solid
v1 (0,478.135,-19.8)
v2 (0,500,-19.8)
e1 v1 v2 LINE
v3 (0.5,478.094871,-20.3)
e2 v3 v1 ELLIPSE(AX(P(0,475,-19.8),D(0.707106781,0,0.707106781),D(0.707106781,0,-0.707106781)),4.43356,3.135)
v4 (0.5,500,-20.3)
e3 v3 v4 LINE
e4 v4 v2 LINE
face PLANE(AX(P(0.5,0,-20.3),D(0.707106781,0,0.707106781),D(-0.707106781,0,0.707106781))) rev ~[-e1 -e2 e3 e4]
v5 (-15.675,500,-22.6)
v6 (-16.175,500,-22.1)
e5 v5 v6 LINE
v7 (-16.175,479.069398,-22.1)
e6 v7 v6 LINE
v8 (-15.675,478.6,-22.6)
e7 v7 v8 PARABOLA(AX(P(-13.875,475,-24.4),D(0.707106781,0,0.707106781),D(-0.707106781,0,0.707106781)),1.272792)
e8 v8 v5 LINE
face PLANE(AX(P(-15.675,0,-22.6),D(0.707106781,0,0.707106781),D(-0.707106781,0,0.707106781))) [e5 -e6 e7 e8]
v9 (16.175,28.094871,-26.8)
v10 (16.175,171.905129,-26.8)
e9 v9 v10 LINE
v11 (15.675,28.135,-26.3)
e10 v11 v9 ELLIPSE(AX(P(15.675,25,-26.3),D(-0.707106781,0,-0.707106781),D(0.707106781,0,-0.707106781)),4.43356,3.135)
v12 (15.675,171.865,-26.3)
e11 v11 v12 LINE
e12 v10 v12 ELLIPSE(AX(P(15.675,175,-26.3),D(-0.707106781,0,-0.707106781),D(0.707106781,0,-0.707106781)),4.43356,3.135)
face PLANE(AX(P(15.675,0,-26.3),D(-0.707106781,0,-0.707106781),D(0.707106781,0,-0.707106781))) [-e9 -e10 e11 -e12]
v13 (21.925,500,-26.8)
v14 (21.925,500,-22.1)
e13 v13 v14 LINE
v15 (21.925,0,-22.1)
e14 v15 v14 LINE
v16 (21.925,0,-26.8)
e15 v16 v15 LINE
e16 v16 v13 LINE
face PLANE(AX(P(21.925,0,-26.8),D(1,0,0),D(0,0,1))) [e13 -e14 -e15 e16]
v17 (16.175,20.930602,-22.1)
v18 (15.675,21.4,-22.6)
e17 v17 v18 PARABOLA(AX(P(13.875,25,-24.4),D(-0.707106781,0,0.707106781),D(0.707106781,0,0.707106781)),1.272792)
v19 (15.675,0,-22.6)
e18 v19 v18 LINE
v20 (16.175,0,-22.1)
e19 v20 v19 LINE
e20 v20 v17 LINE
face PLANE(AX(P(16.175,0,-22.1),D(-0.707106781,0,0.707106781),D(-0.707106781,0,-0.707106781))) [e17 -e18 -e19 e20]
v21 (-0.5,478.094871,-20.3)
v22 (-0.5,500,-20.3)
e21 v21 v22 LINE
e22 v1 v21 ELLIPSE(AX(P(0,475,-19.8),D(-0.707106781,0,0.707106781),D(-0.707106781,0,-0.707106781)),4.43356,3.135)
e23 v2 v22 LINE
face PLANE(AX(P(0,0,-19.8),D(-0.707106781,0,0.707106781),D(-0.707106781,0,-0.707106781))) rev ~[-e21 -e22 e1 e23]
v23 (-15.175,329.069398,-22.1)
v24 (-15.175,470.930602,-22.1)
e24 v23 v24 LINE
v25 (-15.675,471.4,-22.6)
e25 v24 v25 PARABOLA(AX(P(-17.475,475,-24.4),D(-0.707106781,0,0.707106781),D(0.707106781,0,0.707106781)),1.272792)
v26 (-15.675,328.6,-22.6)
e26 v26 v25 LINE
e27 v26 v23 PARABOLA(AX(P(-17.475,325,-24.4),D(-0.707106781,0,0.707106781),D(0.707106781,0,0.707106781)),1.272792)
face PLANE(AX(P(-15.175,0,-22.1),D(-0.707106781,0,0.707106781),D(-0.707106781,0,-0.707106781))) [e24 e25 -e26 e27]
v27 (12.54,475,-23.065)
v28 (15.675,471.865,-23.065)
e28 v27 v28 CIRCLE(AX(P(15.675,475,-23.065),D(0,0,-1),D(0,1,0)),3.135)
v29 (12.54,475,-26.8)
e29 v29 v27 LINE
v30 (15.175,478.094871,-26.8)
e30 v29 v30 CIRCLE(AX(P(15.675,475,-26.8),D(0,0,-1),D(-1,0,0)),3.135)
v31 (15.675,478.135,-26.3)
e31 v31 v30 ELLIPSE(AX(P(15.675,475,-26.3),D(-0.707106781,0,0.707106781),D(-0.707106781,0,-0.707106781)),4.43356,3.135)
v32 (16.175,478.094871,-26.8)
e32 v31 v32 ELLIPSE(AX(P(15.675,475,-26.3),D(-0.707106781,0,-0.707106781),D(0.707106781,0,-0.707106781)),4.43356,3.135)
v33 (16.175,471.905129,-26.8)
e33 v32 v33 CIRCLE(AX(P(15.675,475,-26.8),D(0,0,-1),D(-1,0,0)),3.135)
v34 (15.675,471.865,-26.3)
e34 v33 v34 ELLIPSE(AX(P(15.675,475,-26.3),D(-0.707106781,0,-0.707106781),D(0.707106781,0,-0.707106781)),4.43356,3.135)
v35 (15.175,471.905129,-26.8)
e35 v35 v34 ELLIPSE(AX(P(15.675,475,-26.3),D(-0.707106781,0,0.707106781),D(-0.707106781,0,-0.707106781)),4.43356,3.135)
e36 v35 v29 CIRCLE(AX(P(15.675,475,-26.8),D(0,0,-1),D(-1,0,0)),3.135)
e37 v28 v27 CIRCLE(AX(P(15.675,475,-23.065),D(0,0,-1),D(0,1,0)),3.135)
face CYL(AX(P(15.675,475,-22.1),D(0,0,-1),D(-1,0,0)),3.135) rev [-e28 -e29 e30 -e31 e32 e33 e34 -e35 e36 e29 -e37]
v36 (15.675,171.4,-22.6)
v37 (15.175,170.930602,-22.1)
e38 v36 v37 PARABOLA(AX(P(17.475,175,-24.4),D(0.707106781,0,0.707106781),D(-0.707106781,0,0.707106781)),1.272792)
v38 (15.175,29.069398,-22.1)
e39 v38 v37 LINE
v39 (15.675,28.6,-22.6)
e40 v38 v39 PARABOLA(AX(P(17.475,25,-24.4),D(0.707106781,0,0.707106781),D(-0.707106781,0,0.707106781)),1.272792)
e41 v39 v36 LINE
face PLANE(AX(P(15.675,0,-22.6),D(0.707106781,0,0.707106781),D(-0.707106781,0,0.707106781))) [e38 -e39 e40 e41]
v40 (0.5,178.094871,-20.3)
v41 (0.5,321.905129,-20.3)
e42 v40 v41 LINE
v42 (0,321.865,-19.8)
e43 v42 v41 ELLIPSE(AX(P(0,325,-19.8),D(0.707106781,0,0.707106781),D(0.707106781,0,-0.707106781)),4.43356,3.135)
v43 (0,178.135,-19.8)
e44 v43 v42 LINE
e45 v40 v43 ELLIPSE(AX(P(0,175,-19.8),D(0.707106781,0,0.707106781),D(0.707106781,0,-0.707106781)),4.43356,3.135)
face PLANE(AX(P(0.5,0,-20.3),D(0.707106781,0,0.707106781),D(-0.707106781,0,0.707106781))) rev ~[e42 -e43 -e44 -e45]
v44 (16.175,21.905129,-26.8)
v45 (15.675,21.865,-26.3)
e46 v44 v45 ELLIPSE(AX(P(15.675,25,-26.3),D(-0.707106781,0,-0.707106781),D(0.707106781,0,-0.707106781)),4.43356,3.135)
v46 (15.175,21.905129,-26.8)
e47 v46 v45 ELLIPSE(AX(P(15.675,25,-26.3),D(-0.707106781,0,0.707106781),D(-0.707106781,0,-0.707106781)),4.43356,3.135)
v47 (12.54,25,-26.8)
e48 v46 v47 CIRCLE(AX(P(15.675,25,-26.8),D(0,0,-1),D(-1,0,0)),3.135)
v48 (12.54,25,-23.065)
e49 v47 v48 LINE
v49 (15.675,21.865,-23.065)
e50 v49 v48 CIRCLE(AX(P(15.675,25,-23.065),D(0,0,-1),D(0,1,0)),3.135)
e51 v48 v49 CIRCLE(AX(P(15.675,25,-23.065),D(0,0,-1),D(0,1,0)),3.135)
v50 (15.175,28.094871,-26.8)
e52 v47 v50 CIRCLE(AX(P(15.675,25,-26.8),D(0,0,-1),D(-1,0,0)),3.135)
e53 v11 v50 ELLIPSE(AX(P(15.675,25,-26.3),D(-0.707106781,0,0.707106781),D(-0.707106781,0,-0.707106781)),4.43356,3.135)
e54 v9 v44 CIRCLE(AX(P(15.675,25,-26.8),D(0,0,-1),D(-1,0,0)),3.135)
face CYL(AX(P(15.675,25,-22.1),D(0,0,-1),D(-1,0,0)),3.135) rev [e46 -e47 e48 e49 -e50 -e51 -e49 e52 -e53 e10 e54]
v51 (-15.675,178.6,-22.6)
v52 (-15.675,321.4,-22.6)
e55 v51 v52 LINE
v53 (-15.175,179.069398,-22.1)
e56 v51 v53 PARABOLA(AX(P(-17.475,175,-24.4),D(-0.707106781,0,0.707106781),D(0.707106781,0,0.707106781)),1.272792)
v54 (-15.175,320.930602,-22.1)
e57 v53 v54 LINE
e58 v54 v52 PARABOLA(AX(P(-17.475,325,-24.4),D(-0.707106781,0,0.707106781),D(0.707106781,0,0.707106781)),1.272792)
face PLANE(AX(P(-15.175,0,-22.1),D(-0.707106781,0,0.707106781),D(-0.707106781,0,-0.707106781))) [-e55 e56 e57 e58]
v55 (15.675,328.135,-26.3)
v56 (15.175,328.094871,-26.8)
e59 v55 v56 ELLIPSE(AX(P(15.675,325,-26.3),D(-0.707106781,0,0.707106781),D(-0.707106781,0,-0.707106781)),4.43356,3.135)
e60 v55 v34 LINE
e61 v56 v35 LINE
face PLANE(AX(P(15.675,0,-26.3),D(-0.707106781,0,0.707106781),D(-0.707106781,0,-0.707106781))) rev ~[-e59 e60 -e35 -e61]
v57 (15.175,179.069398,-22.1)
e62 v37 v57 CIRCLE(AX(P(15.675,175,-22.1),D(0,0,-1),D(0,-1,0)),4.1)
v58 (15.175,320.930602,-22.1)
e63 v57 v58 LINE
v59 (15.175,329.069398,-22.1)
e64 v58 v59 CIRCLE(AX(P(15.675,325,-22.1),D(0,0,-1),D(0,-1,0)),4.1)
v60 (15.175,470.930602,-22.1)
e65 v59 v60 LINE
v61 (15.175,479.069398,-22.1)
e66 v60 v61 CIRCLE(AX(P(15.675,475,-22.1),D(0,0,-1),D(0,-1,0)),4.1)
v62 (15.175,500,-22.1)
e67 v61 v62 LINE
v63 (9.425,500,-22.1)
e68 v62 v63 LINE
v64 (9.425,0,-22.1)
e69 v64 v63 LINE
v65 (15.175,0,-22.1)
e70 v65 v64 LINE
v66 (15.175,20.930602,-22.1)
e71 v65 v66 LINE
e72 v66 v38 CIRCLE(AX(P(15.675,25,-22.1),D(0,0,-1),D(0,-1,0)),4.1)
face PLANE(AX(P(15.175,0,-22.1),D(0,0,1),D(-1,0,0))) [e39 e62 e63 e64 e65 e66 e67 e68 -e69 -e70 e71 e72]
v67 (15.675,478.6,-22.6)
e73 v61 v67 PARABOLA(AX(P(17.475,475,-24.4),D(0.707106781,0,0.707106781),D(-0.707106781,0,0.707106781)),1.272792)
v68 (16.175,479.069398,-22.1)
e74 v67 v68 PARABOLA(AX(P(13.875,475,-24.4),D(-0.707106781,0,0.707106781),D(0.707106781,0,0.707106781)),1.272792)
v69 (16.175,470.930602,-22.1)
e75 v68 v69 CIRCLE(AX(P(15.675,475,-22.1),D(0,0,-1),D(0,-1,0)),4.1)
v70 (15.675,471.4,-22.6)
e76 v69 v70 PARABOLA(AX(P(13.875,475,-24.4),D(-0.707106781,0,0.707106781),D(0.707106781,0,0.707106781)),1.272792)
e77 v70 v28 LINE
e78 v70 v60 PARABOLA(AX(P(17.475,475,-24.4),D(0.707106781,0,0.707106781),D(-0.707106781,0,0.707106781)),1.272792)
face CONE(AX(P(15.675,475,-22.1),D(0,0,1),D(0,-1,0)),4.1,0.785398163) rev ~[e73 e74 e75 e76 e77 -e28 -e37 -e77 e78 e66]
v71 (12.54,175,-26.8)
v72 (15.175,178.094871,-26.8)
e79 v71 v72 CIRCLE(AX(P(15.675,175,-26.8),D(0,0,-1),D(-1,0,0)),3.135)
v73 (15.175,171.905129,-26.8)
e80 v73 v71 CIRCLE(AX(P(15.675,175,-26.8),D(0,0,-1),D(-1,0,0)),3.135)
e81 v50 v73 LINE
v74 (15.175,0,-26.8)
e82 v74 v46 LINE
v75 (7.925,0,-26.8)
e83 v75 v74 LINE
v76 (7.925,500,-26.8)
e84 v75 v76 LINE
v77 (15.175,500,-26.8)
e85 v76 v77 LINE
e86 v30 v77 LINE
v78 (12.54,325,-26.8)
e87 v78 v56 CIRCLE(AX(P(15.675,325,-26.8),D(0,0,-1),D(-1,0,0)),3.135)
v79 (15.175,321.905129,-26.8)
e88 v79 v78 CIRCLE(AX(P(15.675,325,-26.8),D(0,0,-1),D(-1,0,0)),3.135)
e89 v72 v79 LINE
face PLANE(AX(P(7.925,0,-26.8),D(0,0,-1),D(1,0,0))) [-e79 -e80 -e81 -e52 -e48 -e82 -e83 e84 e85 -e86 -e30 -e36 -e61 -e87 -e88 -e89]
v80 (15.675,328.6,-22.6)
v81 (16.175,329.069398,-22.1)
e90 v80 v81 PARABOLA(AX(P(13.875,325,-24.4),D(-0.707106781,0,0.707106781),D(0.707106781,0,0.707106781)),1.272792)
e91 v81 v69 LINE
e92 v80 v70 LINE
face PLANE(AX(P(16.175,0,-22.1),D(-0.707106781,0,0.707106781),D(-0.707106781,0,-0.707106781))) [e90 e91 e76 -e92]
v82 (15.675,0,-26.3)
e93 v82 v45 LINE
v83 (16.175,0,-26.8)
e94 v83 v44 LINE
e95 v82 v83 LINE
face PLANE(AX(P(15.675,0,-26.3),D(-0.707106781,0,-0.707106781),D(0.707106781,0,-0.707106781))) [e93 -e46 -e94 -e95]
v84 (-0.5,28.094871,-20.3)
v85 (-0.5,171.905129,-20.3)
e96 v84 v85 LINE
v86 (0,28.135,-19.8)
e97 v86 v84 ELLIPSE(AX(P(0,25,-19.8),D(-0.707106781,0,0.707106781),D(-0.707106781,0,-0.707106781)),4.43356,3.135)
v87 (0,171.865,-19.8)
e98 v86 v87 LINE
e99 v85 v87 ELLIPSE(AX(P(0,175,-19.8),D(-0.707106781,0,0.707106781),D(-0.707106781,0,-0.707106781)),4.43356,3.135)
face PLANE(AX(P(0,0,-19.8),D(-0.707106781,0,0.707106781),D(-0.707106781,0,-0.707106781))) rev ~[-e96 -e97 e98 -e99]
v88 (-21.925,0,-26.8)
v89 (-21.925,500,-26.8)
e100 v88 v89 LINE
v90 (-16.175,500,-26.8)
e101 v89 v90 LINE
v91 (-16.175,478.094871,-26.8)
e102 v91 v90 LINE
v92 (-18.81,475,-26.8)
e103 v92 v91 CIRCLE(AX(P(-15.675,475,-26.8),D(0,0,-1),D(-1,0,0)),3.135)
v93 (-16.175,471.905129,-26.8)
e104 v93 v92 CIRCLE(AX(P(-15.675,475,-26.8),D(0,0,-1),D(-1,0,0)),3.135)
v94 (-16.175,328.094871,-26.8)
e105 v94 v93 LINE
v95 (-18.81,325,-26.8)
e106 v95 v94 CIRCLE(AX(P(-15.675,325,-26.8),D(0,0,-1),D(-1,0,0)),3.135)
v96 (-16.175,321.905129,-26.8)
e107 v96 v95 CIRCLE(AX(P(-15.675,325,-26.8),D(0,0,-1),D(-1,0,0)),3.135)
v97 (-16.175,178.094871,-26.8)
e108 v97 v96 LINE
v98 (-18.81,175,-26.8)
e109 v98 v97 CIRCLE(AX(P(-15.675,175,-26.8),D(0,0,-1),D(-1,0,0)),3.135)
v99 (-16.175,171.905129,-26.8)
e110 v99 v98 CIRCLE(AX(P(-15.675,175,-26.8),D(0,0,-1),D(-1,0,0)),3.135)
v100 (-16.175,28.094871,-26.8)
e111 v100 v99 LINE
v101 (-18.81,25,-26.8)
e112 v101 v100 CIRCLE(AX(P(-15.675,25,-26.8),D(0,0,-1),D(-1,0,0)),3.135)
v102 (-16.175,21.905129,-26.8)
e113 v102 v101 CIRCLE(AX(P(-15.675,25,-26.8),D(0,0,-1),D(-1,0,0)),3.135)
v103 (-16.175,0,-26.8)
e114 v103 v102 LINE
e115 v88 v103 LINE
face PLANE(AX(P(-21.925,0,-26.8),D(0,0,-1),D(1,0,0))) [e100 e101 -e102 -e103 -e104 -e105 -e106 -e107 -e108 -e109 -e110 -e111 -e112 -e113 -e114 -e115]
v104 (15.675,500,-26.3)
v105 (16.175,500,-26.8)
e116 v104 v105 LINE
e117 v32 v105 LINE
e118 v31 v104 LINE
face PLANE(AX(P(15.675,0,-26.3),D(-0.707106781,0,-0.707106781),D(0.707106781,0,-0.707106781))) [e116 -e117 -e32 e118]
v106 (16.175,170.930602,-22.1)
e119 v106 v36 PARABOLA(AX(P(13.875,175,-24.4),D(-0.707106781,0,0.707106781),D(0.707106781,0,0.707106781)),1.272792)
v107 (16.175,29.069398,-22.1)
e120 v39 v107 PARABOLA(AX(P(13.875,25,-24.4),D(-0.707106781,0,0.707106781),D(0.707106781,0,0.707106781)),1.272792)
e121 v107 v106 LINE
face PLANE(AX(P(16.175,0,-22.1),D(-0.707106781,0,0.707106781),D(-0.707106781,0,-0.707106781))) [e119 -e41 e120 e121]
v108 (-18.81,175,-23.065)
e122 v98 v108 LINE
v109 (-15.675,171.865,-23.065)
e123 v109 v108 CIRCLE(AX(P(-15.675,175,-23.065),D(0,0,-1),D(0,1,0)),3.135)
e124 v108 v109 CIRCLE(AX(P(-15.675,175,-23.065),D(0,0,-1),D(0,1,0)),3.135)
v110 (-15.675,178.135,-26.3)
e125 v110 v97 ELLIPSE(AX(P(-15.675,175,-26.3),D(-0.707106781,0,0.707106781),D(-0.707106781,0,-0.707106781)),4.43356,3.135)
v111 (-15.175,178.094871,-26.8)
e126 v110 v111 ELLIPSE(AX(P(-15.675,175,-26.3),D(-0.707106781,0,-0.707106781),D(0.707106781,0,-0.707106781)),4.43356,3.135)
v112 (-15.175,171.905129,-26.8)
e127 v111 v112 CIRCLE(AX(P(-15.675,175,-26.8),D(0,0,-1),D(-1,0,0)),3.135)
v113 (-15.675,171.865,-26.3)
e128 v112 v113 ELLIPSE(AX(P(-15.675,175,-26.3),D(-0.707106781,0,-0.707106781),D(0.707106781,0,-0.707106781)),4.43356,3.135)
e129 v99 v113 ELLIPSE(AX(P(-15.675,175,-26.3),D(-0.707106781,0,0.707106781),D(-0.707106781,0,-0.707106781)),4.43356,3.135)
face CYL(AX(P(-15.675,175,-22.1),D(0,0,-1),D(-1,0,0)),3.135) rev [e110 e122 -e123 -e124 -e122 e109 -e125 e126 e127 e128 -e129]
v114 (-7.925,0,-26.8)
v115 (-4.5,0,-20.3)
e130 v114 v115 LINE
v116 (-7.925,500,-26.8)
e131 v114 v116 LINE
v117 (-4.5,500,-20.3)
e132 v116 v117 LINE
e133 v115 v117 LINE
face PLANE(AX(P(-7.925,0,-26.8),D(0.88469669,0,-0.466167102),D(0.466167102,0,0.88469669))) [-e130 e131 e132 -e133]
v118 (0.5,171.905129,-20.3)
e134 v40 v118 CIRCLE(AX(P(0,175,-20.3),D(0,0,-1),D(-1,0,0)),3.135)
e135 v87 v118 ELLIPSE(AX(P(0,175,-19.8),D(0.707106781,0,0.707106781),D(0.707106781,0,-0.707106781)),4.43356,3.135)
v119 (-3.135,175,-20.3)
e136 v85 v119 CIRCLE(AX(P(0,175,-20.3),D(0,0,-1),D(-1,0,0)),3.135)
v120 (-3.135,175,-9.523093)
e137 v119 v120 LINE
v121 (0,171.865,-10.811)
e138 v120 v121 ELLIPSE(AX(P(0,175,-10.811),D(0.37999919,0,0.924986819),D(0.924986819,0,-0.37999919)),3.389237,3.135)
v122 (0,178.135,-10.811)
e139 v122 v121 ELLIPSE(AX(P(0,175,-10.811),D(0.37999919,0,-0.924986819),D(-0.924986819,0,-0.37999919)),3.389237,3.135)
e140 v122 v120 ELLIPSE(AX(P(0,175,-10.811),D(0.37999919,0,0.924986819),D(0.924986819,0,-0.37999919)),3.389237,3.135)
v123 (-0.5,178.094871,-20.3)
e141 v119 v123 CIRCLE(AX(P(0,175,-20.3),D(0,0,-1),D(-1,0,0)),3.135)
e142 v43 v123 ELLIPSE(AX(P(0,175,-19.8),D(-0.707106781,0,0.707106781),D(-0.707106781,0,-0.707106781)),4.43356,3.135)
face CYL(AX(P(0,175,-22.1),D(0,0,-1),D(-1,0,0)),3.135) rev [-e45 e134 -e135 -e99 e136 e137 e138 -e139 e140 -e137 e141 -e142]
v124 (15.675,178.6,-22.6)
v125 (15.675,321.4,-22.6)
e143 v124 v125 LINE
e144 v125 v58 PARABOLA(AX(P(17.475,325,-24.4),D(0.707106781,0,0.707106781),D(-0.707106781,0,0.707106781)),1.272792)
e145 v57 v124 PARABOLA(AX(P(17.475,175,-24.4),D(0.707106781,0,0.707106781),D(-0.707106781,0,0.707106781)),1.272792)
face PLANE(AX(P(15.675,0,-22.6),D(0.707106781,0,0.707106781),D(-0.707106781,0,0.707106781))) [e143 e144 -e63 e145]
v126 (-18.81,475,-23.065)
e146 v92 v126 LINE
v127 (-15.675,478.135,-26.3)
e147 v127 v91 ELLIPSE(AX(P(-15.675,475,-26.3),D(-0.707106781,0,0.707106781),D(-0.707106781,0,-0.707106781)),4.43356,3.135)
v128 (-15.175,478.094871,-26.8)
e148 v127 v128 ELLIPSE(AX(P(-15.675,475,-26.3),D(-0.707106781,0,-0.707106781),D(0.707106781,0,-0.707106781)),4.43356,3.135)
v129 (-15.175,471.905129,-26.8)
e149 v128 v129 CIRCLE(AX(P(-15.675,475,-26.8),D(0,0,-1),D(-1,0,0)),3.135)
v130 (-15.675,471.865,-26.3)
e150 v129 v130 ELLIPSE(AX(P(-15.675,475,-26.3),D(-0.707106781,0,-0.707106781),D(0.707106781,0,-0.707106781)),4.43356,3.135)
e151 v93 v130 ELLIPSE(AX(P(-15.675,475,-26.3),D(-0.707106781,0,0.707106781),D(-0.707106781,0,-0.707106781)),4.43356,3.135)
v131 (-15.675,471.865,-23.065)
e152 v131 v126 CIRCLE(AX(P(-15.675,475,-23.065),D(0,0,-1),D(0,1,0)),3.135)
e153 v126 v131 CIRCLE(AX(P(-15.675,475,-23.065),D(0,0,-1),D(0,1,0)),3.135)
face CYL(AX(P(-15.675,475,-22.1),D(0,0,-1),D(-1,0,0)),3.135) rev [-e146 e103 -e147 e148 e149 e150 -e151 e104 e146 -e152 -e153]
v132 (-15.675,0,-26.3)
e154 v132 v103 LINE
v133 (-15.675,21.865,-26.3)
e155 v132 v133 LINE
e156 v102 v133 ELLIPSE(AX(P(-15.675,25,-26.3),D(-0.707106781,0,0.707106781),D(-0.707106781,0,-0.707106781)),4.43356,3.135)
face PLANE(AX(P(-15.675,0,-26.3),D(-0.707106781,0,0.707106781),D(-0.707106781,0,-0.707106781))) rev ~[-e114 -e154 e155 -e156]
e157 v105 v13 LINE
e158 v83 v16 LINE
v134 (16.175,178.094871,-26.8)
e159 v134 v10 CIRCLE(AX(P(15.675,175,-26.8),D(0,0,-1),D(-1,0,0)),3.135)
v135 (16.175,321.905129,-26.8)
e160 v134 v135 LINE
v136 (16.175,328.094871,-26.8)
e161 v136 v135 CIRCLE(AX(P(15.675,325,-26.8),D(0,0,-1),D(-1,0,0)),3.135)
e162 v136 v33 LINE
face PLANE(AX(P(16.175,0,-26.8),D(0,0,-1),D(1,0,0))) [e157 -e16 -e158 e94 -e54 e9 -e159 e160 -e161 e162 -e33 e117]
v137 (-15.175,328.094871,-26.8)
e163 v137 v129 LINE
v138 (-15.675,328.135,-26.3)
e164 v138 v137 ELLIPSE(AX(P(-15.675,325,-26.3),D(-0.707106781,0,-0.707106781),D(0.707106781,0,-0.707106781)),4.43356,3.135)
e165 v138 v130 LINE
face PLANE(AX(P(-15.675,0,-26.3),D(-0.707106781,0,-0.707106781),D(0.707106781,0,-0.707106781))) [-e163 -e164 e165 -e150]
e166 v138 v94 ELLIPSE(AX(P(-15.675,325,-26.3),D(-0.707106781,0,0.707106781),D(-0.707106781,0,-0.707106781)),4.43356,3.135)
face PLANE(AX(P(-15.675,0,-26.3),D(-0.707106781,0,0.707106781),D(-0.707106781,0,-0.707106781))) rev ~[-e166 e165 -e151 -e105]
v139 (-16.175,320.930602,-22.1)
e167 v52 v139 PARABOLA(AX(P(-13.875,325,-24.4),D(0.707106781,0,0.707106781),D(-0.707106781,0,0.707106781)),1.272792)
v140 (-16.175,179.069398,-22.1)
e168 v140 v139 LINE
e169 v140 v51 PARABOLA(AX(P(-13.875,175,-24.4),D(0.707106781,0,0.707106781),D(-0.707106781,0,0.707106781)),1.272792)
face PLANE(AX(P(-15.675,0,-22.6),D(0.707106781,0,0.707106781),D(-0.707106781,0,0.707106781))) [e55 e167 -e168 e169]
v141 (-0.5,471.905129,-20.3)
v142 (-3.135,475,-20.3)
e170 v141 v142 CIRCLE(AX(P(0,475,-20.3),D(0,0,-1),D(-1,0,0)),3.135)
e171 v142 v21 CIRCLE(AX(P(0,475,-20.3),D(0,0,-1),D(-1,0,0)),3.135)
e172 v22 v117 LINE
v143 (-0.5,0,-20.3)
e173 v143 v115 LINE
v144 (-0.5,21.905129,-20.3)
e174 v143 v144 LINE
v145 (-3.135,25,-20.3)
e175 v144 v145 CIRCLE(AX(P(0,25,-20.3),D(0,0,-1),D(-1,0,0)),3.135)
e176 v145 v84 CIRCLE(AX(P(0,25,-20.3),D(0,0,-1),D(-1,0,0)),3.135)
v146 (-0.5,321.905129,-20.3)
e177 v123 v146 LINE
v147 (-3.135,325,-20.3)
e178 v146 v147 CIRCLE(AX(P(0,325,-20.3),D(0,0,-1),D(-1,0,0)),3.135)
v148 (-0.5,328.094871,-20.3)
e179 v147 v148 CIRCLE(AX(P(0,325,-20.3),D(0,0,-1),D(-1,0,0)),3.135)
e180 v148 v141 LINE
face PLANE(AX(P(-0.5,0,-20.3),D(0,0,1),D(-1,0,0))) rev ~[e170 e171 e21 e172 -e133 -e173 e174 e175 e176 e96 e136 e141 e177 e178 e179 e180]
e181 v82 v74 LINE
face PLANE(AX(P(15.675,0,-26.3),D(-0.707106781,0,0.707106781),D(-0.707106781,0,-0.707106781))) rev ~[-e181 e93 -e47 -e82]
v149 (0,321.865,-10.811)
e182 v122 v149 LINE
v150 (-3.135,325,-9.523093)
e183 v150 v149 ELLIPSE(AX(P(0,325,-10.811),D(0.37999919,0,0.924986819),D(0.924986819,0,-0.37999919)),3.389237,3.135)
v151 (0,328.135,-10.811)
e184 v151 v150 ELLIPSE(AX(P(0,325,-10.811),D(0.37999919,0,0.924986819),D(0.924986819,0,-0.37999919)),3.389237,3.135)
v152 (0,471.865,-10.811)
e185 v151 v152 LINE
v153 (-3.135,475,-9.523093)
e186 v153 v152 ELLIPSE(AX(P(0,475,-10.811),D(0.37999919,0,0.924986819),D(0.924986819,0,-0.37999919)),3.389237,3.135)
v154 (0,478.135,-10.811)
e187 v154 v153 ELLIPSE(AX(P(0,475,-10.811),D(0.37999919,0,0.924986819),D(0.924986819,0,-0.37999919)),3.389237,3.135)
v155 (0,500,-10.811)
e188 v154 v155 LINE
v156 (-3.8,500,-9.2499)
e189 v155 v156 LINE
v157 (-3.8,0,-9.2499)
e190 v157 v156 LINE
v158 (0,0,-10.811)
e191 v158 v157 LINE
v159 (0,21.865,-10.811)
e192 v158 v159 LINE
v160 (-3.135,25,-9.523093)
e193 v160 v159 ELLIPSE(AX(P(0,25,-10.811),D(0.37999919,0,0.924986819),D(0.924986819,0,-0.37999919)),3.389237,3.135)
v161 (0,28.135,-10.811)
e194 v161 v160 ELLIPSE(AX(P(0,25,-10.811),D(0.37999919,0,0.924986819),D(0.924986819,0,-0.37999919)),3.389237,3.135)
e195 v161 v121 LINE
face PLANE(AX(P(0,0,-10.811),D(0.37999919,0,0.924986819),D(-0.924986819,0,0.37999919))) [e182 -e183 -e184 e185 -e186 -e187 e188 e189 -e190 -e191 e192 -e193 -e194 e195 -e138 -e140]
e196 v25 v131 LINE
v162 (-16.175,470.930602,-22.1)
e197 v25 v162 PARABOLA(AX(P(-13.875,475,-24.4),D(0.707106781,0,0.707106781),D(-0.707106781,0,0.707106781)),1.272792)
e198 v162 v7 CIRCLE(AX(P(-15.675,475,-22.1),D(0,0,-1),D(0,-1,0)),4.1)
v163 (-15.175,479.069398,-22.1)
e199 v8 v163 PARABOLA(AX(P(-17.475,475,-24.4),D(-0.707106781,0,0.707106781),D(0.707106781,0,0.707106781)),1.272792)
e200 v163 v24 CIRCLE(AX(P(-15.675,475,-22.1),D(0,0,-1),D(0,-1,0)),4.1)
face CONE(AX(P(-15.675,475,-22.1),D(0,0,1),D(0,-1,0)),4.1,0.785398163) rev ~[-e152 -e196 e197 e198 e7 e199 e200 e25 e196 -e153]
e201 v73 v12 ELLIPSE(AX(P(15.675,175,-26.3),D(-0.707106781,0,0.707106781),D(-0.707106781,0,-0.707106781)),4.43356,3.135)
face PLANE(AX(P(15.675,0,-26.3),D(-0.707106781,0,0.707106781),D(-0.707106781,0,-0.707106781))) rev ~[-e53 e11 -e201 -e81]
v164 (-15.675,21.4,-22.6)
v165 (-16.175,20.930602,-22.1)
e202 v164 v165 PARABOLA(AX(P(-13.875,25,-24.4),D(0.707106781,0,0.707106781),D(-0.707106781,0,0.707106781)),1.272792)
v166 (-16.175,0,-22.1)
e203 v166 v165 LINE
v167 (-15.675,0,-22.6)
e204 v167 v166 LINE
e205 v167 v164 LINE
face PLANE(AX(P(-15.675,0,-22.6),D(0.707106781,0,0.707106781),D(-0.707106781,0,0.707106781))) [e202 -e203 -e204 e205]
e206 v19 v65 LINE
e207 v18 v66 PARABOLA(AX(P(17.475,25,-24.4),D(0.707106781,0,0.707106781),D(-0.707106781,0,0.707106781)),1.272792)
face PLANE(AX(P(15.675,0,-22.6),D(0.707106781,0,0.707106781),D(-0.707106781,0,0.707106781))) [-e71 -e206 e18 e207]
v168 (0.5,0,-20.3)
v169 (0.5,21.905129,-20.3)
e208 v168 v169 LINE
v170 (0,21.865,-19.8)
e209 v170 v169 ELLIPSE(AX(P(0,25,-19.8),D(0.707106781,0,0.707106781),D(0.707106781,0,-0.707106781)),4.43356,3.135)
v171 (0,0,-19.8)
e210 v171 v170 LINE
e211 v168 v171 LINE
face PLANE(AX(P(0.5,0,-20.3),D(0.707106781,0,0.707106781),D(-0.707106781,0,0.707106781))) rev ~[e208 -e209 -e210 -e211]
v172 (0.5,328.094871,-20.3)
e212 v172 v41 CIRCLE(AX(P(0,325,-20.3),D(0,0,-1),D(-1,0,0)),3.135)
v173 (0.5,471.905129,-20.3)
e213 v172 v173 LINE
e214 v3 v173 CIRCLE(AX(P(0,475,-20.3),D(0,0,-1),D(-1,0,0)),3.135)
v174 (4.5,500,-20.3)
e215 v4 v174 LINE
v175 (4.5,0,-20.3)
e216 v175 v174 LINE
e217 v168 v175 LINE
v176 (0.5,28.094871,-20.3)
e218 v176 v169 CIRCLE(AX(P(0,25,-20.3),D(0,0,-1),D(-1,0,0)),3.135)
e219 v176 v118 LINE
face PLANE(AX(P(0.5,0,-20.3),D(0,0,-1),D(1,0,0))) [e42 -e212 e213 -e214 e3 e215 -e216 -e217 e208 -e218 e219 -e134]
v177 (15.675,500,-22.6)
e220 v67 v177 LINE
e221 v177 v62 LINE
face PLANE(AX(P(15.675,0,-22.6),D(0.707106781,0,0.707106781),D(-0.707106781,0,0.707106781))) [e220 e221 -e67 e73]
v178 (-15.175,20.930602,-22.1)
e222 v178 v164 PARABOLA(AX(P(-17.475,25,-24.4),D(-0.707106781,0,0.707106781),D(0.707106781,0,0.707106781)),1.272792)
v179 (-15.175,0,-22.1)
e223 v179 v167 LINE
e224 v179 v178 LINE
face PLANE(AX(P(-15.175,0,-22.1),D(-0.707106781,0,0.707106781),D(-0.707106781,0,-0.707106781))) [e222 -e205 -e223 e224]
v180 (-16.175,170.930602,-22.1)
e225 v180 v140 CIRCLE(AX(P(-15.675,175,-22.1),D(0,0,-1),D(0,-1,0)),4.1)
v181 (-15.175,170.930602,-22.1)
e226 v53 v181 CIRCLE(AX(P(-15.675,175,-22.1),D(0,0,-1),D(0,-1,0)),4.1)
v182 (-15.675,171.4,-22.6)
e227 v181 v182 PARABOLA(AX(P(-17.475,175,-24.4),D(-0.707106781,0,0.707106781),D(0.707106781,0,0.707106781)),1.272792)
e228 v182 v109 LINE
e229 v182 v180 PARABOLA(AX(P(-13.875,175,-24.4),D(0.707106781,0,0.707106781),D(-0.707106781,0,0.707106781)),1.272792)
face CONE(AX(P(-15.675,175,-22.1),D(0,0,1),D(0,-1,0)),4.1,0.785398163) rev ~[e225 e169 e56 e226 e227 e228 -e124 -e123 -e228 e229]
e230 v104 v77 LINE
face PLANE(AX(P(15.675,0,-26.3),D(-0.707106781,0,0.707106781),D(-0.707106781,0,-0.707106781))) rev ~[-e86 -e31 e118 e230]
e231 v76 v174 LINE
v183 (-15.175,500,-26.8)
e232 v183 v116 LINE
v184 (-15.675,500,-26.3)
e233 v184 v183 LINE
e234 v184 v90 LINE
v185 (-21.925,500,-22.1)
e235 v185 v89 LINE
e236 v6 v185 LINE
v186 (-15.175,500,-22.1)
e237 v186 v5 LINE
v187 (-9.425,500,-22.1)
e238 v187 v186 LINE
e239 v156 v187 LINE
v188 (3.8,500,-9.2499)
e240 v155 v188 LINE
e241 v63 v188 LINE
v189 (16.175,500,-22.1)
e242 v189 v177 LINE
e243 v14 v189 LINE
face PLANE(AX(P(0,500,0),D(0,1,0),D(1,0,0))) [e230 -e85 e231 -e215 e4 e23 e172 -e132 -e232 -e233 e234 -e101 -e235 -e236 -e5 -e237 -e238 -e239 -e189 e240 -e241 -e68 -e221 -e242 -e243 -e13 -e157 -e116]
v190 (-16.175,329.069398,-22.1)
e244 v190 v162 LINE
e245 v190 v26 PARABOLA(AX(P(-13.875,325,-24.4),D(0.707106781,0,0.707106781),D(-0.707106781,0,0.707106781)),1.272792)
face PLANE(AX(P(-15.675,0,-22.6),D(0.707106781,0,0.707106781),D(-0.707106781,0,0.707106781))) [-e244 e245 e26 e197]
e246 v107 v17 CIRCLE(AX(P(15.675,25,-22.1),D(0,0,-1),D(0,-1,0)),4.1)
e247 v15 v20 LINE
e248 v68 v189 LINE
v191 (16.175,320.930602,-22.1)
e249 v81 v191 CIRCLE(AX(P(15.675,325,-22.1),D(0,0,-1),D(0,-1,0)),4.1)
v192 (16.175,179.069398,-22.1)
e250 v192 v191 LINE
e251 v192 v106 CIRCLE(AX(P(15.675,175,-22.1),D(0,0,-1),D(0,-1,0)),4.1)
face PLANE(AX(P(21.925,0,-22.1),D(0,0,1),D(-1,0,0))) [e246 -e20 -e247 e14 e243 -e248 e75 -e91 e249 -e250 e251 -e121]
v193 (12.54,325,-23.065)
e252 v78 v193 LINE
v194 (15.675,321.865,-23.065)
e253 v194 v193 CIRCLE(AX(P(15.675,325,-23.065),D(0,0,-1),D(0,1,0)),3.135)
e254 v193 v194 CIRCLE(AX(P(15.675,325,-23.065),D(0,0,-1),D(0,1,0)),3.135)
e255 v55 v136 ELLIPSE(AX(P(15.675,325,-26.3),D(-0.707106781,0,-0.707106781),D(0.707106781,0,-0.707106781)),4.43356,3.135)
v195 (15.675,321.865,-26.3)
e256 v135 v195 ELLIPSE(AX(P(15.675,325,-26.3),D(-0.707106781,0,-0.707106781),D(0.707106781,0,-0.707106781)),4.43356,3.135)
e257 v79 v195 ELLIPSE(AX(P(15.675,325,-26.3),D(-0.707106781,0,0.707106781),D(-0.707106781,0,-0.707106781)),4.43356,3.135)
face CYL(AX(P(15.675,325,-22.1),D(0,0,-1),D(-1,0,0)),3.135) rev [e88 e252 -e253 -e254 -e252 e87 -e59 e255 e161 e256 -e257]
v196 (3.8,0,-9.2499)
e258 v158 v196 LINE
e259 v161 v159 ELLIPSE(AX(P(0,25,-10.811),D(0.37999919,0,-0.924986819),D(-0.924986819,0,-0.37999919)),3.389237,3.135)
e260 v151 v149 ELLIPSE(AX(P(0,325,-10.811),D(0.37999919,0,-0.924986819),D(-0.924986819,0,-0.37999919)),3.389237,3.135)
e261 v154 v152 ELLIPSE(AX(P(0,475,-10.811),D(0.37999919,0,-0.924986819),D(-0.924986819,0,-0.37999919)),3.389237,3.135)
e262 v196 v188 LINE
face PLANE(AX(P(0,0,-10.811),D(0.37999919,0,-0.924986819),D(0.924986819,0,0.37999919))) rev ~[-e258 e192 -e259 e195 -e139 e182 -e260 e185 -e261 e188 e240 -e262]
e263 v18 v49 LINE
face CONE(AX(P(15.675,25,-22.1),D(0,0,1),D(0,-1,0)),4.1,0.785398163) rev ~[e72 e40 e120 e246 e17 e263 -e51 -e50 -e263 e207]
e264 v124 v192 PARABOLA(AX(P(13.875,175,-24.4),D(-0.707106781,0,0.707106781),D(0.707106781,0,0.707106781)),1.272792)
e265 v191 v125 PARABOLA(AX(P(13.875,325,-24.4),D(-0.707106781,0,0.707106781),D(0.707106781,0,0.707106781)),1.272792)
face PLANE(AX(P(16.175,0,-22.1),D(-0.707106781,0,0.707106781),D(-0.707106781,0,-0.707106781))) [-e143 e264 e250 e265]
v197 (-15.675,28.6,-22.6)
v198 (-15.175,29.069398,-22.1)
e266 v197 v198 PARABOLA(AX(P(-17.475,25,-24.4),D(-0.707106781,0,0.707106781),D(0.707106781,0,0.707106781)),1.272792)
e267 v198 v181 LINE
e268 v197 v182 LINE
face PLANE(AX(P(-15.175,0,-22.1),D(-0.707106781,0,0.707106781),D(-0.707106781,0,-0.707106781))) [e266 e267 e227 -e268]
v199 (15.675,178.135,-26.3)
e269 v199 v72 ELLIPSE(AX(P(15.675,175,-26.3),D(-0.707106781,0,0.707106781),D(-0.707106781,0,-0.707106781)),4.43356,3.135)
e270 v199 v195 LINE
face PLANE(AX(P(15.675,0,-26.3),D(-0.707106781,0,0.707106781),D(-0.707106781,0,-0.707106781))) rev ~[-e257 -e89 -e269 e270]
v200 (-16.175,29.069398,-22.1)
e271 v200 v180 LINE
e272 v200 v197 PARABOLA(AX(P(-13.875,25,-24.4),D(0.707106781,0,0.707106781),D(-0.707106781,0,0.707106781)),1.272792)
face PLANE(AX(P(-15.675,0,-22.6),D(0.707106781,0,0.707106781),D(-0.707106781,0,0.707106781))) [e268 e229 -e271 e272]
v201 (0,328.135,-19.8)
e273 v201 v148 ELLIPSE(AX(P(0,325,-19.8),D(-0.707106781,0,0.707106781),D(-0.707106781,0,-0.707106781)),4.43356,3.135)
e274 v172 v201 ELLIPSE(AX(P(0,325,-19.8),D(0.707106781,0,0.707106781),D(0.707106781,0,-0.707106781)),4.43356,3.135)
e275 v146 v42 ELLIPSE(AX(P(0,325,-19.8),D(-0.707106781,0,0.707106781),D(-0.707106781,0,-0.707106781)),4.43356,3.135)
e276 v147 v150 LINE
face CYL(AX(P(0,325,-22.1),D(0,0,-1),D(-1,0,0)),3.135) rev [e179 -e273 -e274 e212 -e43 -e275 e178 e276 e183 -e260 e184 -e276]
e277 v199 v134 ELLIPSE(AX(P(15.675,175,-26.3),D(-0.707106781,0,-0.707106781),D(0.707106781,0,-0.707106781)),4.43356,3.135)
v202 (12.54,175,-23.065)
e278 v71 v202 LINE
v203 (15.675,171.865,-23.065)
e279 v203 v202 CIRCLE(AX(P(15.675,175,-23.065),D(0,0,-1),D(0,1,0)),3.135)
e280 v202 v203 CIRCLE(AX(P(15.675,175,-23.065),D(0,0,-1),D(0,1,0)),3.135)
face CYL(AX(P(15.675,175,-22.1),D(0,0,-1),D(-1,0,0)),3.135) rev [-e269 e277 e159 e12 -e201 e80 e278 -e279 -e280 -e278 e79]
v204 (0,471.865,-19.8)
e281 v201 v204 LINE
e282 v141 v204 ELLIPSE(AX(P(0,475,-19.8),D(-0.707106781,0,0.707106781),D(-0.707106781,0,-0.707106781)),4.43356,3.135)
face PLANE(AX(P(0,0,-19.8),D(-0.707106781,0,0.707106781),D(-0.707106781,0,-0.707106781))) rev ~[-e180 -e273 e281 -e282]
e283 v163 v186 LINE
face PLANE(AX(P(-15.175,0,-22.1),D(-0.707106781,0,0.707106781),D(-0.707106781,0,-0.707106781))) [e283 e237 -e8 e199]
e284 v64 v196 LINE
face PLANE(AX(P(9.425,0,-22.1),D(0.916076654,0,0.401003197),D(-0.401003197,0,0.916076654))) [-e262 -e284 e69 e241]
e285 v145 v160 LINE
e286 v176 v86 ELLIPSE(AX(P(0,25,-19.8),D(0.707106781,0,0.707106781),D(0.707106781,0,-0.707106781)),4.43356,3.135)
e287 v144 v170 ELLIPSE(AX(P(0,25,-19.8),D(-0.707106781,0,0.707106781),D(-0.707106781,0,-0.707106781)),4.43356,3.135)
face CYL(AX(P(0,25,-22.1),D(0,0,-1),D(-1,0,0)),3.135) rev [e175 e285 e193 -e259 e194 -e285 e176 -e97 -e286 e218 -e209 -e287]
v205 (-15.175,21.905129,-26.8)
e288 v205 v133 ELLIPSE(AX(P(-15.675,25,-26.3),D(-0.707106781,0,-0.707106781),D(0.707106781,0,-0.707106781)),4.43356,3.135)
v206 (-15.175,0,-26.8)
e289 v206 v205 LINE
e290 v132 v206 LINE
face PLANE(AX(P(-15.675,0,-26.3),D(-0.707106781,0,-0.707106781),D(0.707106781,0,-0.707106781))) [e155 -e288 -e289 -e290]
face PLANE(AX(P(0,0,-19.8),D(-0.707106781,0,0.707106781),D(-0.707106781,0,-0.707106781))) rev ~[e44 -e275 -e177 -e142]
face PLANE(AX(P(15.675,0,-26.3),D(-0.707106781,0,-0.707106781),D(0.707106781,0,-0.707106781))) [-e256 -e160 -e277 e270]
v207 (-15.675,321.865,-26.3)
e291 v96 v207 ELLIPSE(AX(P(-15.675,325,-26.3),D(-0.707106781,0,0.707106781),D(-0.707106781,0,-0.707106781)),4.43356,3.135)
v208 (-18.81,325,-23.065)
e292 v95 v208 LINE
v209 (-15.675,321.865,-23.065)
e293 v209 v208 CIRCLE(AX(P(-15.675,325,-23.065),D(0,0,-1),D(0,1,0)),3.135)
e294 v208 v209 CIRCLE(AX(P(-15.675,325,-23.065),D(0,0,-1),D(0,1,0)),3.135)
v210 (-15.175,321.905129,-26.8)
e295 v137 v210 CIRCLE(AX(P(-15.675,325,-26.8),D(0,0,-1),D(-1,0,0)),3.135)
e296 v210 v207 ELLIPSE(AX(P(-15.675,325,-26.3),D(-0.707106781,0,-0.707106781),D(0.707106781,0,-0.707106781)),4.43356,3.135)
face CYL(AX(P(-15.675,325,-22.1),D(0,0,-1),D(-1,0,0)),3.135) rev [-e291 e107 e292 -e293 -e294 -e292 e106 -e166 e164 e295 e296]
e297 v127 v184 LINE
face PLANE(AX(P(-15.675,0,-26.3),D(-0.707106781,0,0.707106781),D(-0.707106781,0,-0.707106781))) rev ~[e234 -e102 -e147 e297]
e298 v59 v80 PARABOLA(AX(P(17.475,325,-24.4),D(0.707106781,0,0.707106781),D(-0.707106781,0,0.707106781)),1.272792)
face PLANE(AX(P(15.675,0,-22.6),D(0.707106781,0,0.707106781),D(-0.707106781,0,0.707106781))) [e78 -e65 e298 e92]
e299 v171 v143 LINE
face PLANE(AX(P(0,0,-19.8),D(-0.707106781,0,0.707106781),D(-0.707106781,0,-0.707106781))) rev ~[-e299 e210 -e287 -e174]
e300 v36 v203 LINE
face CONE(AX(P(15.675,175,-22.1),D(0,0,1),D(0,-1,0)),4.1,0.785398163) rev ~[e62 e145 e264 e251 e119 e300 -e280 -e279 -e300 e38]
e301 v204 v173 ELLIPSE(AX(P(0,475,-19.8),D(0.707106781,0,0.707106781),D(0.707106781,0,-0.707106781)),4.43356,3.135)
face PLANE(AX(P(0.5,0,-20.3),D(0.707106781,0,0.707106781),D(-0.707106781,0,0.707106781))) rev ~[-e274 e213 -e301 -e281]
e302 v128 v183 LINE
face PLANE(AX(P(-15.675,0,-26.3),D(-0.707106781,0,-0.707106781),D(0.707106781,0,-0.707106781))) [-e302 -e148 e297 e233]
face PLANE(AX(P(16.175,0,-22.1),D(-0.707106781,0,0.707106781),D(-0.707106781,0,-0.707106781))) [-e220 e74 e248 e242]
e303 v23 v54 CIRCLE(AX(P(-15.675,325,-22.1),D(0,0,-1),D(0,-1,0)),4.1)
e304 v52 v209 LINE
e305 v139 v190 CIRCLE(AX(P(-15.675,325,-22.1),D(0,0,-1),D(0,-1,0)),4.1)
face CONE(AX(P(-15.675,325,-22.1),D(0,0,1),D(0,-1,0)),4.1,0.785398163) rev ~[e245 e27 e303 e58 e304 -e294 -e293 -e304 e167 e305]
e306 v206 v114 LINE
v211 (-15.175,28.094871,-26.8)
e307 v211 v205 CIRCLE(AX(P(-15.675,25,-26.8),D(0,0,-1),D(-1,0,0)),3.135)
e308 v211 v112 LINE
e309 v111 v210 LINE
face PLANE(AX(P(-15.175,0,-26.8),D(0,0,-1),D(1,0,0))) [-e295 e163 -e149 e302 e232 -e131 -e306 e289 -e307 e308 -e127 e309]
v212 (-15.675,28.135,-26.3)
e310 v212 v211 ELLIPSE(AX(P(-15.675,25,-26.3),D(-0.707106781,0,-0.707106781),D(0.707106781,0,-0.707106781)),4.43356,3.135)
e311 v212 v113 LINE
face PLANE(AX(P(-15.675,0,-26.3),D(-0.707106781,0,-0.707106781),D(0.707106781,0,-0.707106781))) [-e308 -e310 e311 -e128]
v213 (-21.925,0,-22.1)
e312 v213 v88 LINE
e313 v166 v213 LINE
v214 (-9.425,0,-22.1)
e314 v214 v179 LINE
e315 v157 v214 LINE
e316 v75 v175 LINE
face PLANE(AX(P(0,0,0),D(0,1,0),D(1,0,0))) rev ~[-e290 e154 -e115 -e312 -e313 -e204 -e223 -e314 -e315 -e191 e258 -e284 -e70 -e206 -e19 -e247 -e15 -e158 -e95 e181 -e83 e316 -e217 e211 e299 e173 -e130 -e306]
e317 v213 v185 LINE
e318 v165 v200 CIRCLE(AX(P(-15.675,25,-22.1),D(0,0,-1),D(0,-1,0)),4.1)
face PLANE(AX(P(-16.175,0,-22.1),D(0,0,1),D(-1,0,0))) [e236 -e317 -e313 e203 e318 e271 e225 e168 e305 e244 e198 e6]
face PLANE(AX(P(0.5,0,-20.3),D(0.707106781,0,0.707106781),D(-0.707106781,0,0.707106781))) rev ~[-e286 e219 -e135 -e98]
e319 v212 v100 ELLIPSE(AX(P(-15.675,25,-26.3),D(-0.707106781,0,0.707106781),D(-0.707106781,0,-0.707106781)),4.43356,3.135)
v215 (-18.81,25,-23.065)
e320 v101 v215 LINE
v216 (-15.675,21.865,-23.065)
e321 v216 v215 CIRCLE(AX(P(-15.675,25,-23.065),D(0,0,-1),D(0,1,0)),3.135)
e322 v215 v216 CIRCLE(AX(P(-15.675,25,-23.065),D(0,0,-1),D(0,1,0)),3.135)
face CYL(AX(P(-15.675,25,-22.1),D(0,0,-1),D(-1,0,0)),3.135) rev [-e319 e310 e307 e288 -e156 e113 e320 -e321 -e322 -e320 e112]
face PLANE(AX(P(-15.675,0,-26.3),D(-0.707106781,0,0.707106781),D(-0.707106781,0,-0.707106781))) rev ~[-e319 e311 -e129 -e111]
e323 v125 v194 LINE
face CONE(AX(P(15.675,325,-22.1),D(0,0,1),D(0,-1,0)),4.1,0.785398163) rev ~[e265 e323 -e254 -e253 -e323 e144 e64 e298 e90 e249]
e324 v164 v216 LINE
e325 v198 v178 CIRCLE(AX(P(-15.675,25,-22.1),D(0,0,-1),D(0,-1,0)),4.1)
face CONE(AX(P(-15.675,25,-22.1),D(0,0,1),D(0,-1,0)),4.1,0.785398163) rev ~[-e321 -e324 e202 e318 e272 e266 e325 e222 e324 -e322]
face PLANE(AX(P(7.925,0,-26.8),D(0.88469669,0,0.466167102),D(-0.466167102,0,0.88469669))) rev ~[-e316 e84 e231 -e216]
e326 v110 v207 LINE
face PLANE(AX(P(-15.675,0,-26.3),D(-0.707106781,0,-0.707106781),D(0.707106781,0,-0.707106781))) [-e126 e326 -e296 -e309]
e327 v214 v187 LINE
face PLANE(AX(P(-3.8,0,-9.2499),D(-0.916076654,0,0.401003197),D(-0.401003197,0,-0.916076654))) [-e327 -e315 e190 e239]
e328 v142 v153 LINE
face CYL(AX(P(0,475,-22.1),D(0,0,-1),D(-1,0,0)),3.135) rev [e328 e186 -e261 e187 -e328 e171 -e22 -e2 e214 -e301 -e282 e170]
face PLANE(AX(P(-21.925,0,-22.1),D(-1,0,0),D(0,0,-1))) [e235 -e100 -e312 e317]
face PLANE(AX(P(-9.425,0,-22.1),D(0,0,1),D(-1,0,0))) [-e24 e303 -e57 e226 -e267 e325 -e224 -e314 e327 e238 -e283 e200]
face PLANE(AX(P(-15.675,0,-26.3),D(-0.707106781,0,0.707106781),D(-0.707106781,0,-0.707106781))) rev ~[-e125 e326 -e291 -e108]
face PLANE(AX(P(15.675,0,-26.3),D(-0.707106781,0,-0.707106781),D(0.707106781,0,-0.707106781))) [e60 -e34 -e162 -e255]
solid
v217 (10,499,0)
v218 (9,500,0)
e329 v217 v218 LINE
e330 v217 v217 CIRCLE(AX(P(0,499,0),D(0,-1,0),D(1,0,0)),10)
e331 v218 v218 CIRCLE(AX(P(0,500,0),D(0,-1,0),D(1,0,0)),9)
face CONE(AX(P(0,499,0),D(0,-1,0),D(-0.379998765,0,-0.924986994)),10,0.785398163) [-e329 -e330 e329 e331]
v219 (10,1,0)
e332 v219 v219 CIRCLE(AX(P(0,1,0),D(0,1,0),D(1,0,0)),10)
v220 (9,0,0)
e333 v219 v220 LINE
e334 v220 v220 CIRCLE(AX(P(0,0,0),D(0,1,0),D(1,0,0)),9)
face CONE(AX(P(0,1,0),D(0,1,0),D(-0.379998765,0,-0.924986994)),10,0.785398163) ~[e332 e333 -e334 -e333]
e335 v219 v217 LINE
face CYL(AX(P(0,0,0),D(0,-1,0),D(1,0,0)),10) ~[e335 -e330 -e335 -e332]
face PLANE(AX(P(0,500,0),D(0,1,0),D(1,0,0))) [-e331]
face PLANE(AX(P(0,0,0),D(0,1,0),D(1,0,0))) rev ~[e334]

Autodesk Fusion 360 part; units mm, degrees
sketch "Sketch1" plane through (0, 0, 0) normal (0, 1, 0) x (1, 0, 0)
  circle A0 centre (0, 0) radius 10
  line L0 (-3.8, 9.2499) -> (-9.425, 22.1)
  line L1 (-9.425, 22.1) -> (-21.925, 22.1)
  line L2 (-21.925, 22.1) -> (-21.925, 26.8)
  line L3 (21.925, 26.8) -> (21.925, 22.1)
  line L4 (21.925, 22.1) -> (9.425, 22.1)
  line L5 (9.425, 22.1) -> (3.8, 9.2499)
  line L6 (0, 26.8) -> (0, 20.3) construction
  line L7 (-21.925, 26.8) -> (-7.925, 26.8)
  line L8 (7.925, 26.8) -> (21.925, 26.8)
  line L9 (-7.925, 26.8) -> (7.925, 26.8) construction
  line L10 (0, 0) -> (0, -10) construction
  line L11 (0, 20.3) -> (4.5, 20.3)
  line L12 (0, 20.3) -> (-4.5, 20.3)
  line L13 (-7.925, 26.8) -> (-4.5, 20.3)
  line L14 (7.925, 26.8) -> (4.5, 20.3)
  line L15 (0, 0) -> (0, 10) construction
  line L16 (0, 10) -> (0, 10.811) construction
  line L17 (0, 10.811) -> (-3.8, 9.2499)
  line L18 (0, 10.811) -> (3.8, 9.2499)
  line L19 (-3.8, 9.2499) -> (0, 9.2499) construction
  line L20 (3.8, 9.2499) -> (0, 9.2499) construction
  line L21 (0, 20.3) -> (0, 10.811) construction
  line L22 (15.675, 22.1) -> (15.675, 22.6) construction
  line L23 (0, 20.3) -> (0, 19.8) construction
  line L24 (-15.675, 22.1) -> (-15.675, 22.6) construction
  line L25 (16.175, 22.1) -> (15.675, 22.6)
  line L26 (15.675, 22.6) -> (15.175, 22.1)
  line L27 (0.5, 20.3) -> (0, 19.8)
  line L28 (0, 19.8) -> (-0.5, 20.3)
  line L29 (-15.175, 22.1) -> (-15.675, 22.6)
  line L30 (-15.675, 22.6) -> (-16.175, 22.1)
  line L31 (15.675, 26.3) -> (15.175, 26.8)
  line L32 (15.675, 26.3) -> (16.175, 26.8)
  line L33 (-15.675, 26.3) -> (-15.175, 26.8)
  line L34 (-15.675, 26.3) -> (-16.175, 26.8)
  line L35 (-15.675, 22.6) -> (-15.675, 26.3) construction
  line L36 (15.675, 22.6) -> (15.675, 26.3) construction
  dimension "d1" = 20
  dimension "d3" = 12.5
  dimension "d4" = 43.85
  dimension "d7" = 4.7
  dimension "d8" = 6.5
  dimension "d10" = 36.8
  dimension "d11" = 14
  dimension "d12" = 4.5
  dimension "d67" = 0.5
  dimension "d68" = 0.5
  dimension "d69" = 0.5
  dimension "d73" = 7.6
extrude "Extrude1" add sketch "Sketch1" along normal blind 500 contours L0 L1 L2 L3 L4 L5 L7 L8 L11 L12 L13 L14 L17 L18 L25 L26 L27 L28 L29 L30 L31 L32 L33 L34 makes body 1
copy_body "Body->Comp1" bodies 1 removing the originals makes body 2 in component "Component"
extrude "Extrude1'" add sketch "Sketch1" along normal blind 500 separate body contours A0 makes body 3 in component "Component'"
chamfer "Chamfer1" distance 1 angle 45 2 edges at (-9.3233, 0, 3.6162) (-9.3233, 500, 3.6162) on bodies 3 in component "Component'"
sketch "Sketch3" plane through (0, 0, -22.1) normal (0, 0, 1) x (-1, 0, 0)
  line L0 (-16.175, 0) -> (-21.925, 0)
  line L1 (-21.925, 0) -> (-21.925, -500)
  line L2 (-21.925, -500) -> (-16.175, -500)
  line L3 (-16.175, -500) -> (-16.175, 0)
  line L4 (15.675, 0) -> (15.675, -500)
  line L5 (-15.675, 0) -> (-15.675, -500)
  line L6 (-15.675, 0) -> (-15.675, -25) construction
  line L7 (-15.675, -25) -> (-15.675, -175) construction
  line L8 (-15.675, -175) -> (-15.675, -325) construction
  line L9 (-15.675, -325) -> (-15.675, -475) construction
  line L10 (-15.675, -475) -> (15.675, -475) construction
  line L11 (-15.675, -325) -> (15.675, -325) construction
  line L12 (-15.675, -175) -> (15.675, -175) construction
  line L13 (-15.675, -25) -> (15.675, -25) construction
  circle A0 centre (15.675, -475) radius 3.135
  circle A1 centre (-15.675, -475) radius 3.135
  circle A2 centre (-15.675, -325) radius 3.135
  circle A3 centre (15.675, -325) radius 3.135
  circle A4 centre (15.675, -175) radius 3.135
  circle A5 centre (-15.675, -175) radius 3.135
  circle A6 centre (15.675, -25) radius 3.135
  circle A7 centre (-15.675, -25) radius 3.135
  circle A8 centre (0, -325) radius 3.135
  circle A9 centre (0, -25) radius 3.135
  circle A10 centre (0, -175) radius 3.135
  circle A11 centre (0, -475) radius 3.135
  dimension "d74" = 25
  dimension "d75" = 150
  dimension "d76" = 150
  dimension "d77" = 150
  dimension "d78" = 6.27
hole "Hole1" at (-15.675, 25, -22.1) at (15.675, 25, -22.1) at (15.675, 175, -22.1) at (-15.675, 175, -22.1) at (15.675, 325, -22.1) at (-15.675, 325, -22.1) at (15.675, 475, -22.1) at (-15.675, 475, -22.1) direction (0, 0, -1) diameter 3.9 depth 5 tip angle 118 countersink diameter 8.2 countersink angle 90 bodies 2 in component "Component"
extrude "Extrude1''" cut sketch "Sketch3" along normal mid plane 27.4421 contours L3 L5 A7 | L3 A7 | L5 A7 | L3 L5 A5 | L3 A5 | L3 A1 | L3 L5 A1 | L5 A5 | L5 A1 | L3 L5 A2 | L3 A2 | L5 A2 | L4 A6 | L4 A0 | L4 A0 | L4 A3 | L4 A3 | L4 A4 | L4 A4 | L4 A6 | A8 | A9 | A10 | A11 bodies 2 in component "Component"
component "Component'" placed x (1, 0, 0) y (0, 1, 0) z (0, 0, 1) at (0, 0, 0)
component "Component" placed x (1, 0, 0) y (0, 1, 0) z (0, 0, 1) at (0, 0, 0)
